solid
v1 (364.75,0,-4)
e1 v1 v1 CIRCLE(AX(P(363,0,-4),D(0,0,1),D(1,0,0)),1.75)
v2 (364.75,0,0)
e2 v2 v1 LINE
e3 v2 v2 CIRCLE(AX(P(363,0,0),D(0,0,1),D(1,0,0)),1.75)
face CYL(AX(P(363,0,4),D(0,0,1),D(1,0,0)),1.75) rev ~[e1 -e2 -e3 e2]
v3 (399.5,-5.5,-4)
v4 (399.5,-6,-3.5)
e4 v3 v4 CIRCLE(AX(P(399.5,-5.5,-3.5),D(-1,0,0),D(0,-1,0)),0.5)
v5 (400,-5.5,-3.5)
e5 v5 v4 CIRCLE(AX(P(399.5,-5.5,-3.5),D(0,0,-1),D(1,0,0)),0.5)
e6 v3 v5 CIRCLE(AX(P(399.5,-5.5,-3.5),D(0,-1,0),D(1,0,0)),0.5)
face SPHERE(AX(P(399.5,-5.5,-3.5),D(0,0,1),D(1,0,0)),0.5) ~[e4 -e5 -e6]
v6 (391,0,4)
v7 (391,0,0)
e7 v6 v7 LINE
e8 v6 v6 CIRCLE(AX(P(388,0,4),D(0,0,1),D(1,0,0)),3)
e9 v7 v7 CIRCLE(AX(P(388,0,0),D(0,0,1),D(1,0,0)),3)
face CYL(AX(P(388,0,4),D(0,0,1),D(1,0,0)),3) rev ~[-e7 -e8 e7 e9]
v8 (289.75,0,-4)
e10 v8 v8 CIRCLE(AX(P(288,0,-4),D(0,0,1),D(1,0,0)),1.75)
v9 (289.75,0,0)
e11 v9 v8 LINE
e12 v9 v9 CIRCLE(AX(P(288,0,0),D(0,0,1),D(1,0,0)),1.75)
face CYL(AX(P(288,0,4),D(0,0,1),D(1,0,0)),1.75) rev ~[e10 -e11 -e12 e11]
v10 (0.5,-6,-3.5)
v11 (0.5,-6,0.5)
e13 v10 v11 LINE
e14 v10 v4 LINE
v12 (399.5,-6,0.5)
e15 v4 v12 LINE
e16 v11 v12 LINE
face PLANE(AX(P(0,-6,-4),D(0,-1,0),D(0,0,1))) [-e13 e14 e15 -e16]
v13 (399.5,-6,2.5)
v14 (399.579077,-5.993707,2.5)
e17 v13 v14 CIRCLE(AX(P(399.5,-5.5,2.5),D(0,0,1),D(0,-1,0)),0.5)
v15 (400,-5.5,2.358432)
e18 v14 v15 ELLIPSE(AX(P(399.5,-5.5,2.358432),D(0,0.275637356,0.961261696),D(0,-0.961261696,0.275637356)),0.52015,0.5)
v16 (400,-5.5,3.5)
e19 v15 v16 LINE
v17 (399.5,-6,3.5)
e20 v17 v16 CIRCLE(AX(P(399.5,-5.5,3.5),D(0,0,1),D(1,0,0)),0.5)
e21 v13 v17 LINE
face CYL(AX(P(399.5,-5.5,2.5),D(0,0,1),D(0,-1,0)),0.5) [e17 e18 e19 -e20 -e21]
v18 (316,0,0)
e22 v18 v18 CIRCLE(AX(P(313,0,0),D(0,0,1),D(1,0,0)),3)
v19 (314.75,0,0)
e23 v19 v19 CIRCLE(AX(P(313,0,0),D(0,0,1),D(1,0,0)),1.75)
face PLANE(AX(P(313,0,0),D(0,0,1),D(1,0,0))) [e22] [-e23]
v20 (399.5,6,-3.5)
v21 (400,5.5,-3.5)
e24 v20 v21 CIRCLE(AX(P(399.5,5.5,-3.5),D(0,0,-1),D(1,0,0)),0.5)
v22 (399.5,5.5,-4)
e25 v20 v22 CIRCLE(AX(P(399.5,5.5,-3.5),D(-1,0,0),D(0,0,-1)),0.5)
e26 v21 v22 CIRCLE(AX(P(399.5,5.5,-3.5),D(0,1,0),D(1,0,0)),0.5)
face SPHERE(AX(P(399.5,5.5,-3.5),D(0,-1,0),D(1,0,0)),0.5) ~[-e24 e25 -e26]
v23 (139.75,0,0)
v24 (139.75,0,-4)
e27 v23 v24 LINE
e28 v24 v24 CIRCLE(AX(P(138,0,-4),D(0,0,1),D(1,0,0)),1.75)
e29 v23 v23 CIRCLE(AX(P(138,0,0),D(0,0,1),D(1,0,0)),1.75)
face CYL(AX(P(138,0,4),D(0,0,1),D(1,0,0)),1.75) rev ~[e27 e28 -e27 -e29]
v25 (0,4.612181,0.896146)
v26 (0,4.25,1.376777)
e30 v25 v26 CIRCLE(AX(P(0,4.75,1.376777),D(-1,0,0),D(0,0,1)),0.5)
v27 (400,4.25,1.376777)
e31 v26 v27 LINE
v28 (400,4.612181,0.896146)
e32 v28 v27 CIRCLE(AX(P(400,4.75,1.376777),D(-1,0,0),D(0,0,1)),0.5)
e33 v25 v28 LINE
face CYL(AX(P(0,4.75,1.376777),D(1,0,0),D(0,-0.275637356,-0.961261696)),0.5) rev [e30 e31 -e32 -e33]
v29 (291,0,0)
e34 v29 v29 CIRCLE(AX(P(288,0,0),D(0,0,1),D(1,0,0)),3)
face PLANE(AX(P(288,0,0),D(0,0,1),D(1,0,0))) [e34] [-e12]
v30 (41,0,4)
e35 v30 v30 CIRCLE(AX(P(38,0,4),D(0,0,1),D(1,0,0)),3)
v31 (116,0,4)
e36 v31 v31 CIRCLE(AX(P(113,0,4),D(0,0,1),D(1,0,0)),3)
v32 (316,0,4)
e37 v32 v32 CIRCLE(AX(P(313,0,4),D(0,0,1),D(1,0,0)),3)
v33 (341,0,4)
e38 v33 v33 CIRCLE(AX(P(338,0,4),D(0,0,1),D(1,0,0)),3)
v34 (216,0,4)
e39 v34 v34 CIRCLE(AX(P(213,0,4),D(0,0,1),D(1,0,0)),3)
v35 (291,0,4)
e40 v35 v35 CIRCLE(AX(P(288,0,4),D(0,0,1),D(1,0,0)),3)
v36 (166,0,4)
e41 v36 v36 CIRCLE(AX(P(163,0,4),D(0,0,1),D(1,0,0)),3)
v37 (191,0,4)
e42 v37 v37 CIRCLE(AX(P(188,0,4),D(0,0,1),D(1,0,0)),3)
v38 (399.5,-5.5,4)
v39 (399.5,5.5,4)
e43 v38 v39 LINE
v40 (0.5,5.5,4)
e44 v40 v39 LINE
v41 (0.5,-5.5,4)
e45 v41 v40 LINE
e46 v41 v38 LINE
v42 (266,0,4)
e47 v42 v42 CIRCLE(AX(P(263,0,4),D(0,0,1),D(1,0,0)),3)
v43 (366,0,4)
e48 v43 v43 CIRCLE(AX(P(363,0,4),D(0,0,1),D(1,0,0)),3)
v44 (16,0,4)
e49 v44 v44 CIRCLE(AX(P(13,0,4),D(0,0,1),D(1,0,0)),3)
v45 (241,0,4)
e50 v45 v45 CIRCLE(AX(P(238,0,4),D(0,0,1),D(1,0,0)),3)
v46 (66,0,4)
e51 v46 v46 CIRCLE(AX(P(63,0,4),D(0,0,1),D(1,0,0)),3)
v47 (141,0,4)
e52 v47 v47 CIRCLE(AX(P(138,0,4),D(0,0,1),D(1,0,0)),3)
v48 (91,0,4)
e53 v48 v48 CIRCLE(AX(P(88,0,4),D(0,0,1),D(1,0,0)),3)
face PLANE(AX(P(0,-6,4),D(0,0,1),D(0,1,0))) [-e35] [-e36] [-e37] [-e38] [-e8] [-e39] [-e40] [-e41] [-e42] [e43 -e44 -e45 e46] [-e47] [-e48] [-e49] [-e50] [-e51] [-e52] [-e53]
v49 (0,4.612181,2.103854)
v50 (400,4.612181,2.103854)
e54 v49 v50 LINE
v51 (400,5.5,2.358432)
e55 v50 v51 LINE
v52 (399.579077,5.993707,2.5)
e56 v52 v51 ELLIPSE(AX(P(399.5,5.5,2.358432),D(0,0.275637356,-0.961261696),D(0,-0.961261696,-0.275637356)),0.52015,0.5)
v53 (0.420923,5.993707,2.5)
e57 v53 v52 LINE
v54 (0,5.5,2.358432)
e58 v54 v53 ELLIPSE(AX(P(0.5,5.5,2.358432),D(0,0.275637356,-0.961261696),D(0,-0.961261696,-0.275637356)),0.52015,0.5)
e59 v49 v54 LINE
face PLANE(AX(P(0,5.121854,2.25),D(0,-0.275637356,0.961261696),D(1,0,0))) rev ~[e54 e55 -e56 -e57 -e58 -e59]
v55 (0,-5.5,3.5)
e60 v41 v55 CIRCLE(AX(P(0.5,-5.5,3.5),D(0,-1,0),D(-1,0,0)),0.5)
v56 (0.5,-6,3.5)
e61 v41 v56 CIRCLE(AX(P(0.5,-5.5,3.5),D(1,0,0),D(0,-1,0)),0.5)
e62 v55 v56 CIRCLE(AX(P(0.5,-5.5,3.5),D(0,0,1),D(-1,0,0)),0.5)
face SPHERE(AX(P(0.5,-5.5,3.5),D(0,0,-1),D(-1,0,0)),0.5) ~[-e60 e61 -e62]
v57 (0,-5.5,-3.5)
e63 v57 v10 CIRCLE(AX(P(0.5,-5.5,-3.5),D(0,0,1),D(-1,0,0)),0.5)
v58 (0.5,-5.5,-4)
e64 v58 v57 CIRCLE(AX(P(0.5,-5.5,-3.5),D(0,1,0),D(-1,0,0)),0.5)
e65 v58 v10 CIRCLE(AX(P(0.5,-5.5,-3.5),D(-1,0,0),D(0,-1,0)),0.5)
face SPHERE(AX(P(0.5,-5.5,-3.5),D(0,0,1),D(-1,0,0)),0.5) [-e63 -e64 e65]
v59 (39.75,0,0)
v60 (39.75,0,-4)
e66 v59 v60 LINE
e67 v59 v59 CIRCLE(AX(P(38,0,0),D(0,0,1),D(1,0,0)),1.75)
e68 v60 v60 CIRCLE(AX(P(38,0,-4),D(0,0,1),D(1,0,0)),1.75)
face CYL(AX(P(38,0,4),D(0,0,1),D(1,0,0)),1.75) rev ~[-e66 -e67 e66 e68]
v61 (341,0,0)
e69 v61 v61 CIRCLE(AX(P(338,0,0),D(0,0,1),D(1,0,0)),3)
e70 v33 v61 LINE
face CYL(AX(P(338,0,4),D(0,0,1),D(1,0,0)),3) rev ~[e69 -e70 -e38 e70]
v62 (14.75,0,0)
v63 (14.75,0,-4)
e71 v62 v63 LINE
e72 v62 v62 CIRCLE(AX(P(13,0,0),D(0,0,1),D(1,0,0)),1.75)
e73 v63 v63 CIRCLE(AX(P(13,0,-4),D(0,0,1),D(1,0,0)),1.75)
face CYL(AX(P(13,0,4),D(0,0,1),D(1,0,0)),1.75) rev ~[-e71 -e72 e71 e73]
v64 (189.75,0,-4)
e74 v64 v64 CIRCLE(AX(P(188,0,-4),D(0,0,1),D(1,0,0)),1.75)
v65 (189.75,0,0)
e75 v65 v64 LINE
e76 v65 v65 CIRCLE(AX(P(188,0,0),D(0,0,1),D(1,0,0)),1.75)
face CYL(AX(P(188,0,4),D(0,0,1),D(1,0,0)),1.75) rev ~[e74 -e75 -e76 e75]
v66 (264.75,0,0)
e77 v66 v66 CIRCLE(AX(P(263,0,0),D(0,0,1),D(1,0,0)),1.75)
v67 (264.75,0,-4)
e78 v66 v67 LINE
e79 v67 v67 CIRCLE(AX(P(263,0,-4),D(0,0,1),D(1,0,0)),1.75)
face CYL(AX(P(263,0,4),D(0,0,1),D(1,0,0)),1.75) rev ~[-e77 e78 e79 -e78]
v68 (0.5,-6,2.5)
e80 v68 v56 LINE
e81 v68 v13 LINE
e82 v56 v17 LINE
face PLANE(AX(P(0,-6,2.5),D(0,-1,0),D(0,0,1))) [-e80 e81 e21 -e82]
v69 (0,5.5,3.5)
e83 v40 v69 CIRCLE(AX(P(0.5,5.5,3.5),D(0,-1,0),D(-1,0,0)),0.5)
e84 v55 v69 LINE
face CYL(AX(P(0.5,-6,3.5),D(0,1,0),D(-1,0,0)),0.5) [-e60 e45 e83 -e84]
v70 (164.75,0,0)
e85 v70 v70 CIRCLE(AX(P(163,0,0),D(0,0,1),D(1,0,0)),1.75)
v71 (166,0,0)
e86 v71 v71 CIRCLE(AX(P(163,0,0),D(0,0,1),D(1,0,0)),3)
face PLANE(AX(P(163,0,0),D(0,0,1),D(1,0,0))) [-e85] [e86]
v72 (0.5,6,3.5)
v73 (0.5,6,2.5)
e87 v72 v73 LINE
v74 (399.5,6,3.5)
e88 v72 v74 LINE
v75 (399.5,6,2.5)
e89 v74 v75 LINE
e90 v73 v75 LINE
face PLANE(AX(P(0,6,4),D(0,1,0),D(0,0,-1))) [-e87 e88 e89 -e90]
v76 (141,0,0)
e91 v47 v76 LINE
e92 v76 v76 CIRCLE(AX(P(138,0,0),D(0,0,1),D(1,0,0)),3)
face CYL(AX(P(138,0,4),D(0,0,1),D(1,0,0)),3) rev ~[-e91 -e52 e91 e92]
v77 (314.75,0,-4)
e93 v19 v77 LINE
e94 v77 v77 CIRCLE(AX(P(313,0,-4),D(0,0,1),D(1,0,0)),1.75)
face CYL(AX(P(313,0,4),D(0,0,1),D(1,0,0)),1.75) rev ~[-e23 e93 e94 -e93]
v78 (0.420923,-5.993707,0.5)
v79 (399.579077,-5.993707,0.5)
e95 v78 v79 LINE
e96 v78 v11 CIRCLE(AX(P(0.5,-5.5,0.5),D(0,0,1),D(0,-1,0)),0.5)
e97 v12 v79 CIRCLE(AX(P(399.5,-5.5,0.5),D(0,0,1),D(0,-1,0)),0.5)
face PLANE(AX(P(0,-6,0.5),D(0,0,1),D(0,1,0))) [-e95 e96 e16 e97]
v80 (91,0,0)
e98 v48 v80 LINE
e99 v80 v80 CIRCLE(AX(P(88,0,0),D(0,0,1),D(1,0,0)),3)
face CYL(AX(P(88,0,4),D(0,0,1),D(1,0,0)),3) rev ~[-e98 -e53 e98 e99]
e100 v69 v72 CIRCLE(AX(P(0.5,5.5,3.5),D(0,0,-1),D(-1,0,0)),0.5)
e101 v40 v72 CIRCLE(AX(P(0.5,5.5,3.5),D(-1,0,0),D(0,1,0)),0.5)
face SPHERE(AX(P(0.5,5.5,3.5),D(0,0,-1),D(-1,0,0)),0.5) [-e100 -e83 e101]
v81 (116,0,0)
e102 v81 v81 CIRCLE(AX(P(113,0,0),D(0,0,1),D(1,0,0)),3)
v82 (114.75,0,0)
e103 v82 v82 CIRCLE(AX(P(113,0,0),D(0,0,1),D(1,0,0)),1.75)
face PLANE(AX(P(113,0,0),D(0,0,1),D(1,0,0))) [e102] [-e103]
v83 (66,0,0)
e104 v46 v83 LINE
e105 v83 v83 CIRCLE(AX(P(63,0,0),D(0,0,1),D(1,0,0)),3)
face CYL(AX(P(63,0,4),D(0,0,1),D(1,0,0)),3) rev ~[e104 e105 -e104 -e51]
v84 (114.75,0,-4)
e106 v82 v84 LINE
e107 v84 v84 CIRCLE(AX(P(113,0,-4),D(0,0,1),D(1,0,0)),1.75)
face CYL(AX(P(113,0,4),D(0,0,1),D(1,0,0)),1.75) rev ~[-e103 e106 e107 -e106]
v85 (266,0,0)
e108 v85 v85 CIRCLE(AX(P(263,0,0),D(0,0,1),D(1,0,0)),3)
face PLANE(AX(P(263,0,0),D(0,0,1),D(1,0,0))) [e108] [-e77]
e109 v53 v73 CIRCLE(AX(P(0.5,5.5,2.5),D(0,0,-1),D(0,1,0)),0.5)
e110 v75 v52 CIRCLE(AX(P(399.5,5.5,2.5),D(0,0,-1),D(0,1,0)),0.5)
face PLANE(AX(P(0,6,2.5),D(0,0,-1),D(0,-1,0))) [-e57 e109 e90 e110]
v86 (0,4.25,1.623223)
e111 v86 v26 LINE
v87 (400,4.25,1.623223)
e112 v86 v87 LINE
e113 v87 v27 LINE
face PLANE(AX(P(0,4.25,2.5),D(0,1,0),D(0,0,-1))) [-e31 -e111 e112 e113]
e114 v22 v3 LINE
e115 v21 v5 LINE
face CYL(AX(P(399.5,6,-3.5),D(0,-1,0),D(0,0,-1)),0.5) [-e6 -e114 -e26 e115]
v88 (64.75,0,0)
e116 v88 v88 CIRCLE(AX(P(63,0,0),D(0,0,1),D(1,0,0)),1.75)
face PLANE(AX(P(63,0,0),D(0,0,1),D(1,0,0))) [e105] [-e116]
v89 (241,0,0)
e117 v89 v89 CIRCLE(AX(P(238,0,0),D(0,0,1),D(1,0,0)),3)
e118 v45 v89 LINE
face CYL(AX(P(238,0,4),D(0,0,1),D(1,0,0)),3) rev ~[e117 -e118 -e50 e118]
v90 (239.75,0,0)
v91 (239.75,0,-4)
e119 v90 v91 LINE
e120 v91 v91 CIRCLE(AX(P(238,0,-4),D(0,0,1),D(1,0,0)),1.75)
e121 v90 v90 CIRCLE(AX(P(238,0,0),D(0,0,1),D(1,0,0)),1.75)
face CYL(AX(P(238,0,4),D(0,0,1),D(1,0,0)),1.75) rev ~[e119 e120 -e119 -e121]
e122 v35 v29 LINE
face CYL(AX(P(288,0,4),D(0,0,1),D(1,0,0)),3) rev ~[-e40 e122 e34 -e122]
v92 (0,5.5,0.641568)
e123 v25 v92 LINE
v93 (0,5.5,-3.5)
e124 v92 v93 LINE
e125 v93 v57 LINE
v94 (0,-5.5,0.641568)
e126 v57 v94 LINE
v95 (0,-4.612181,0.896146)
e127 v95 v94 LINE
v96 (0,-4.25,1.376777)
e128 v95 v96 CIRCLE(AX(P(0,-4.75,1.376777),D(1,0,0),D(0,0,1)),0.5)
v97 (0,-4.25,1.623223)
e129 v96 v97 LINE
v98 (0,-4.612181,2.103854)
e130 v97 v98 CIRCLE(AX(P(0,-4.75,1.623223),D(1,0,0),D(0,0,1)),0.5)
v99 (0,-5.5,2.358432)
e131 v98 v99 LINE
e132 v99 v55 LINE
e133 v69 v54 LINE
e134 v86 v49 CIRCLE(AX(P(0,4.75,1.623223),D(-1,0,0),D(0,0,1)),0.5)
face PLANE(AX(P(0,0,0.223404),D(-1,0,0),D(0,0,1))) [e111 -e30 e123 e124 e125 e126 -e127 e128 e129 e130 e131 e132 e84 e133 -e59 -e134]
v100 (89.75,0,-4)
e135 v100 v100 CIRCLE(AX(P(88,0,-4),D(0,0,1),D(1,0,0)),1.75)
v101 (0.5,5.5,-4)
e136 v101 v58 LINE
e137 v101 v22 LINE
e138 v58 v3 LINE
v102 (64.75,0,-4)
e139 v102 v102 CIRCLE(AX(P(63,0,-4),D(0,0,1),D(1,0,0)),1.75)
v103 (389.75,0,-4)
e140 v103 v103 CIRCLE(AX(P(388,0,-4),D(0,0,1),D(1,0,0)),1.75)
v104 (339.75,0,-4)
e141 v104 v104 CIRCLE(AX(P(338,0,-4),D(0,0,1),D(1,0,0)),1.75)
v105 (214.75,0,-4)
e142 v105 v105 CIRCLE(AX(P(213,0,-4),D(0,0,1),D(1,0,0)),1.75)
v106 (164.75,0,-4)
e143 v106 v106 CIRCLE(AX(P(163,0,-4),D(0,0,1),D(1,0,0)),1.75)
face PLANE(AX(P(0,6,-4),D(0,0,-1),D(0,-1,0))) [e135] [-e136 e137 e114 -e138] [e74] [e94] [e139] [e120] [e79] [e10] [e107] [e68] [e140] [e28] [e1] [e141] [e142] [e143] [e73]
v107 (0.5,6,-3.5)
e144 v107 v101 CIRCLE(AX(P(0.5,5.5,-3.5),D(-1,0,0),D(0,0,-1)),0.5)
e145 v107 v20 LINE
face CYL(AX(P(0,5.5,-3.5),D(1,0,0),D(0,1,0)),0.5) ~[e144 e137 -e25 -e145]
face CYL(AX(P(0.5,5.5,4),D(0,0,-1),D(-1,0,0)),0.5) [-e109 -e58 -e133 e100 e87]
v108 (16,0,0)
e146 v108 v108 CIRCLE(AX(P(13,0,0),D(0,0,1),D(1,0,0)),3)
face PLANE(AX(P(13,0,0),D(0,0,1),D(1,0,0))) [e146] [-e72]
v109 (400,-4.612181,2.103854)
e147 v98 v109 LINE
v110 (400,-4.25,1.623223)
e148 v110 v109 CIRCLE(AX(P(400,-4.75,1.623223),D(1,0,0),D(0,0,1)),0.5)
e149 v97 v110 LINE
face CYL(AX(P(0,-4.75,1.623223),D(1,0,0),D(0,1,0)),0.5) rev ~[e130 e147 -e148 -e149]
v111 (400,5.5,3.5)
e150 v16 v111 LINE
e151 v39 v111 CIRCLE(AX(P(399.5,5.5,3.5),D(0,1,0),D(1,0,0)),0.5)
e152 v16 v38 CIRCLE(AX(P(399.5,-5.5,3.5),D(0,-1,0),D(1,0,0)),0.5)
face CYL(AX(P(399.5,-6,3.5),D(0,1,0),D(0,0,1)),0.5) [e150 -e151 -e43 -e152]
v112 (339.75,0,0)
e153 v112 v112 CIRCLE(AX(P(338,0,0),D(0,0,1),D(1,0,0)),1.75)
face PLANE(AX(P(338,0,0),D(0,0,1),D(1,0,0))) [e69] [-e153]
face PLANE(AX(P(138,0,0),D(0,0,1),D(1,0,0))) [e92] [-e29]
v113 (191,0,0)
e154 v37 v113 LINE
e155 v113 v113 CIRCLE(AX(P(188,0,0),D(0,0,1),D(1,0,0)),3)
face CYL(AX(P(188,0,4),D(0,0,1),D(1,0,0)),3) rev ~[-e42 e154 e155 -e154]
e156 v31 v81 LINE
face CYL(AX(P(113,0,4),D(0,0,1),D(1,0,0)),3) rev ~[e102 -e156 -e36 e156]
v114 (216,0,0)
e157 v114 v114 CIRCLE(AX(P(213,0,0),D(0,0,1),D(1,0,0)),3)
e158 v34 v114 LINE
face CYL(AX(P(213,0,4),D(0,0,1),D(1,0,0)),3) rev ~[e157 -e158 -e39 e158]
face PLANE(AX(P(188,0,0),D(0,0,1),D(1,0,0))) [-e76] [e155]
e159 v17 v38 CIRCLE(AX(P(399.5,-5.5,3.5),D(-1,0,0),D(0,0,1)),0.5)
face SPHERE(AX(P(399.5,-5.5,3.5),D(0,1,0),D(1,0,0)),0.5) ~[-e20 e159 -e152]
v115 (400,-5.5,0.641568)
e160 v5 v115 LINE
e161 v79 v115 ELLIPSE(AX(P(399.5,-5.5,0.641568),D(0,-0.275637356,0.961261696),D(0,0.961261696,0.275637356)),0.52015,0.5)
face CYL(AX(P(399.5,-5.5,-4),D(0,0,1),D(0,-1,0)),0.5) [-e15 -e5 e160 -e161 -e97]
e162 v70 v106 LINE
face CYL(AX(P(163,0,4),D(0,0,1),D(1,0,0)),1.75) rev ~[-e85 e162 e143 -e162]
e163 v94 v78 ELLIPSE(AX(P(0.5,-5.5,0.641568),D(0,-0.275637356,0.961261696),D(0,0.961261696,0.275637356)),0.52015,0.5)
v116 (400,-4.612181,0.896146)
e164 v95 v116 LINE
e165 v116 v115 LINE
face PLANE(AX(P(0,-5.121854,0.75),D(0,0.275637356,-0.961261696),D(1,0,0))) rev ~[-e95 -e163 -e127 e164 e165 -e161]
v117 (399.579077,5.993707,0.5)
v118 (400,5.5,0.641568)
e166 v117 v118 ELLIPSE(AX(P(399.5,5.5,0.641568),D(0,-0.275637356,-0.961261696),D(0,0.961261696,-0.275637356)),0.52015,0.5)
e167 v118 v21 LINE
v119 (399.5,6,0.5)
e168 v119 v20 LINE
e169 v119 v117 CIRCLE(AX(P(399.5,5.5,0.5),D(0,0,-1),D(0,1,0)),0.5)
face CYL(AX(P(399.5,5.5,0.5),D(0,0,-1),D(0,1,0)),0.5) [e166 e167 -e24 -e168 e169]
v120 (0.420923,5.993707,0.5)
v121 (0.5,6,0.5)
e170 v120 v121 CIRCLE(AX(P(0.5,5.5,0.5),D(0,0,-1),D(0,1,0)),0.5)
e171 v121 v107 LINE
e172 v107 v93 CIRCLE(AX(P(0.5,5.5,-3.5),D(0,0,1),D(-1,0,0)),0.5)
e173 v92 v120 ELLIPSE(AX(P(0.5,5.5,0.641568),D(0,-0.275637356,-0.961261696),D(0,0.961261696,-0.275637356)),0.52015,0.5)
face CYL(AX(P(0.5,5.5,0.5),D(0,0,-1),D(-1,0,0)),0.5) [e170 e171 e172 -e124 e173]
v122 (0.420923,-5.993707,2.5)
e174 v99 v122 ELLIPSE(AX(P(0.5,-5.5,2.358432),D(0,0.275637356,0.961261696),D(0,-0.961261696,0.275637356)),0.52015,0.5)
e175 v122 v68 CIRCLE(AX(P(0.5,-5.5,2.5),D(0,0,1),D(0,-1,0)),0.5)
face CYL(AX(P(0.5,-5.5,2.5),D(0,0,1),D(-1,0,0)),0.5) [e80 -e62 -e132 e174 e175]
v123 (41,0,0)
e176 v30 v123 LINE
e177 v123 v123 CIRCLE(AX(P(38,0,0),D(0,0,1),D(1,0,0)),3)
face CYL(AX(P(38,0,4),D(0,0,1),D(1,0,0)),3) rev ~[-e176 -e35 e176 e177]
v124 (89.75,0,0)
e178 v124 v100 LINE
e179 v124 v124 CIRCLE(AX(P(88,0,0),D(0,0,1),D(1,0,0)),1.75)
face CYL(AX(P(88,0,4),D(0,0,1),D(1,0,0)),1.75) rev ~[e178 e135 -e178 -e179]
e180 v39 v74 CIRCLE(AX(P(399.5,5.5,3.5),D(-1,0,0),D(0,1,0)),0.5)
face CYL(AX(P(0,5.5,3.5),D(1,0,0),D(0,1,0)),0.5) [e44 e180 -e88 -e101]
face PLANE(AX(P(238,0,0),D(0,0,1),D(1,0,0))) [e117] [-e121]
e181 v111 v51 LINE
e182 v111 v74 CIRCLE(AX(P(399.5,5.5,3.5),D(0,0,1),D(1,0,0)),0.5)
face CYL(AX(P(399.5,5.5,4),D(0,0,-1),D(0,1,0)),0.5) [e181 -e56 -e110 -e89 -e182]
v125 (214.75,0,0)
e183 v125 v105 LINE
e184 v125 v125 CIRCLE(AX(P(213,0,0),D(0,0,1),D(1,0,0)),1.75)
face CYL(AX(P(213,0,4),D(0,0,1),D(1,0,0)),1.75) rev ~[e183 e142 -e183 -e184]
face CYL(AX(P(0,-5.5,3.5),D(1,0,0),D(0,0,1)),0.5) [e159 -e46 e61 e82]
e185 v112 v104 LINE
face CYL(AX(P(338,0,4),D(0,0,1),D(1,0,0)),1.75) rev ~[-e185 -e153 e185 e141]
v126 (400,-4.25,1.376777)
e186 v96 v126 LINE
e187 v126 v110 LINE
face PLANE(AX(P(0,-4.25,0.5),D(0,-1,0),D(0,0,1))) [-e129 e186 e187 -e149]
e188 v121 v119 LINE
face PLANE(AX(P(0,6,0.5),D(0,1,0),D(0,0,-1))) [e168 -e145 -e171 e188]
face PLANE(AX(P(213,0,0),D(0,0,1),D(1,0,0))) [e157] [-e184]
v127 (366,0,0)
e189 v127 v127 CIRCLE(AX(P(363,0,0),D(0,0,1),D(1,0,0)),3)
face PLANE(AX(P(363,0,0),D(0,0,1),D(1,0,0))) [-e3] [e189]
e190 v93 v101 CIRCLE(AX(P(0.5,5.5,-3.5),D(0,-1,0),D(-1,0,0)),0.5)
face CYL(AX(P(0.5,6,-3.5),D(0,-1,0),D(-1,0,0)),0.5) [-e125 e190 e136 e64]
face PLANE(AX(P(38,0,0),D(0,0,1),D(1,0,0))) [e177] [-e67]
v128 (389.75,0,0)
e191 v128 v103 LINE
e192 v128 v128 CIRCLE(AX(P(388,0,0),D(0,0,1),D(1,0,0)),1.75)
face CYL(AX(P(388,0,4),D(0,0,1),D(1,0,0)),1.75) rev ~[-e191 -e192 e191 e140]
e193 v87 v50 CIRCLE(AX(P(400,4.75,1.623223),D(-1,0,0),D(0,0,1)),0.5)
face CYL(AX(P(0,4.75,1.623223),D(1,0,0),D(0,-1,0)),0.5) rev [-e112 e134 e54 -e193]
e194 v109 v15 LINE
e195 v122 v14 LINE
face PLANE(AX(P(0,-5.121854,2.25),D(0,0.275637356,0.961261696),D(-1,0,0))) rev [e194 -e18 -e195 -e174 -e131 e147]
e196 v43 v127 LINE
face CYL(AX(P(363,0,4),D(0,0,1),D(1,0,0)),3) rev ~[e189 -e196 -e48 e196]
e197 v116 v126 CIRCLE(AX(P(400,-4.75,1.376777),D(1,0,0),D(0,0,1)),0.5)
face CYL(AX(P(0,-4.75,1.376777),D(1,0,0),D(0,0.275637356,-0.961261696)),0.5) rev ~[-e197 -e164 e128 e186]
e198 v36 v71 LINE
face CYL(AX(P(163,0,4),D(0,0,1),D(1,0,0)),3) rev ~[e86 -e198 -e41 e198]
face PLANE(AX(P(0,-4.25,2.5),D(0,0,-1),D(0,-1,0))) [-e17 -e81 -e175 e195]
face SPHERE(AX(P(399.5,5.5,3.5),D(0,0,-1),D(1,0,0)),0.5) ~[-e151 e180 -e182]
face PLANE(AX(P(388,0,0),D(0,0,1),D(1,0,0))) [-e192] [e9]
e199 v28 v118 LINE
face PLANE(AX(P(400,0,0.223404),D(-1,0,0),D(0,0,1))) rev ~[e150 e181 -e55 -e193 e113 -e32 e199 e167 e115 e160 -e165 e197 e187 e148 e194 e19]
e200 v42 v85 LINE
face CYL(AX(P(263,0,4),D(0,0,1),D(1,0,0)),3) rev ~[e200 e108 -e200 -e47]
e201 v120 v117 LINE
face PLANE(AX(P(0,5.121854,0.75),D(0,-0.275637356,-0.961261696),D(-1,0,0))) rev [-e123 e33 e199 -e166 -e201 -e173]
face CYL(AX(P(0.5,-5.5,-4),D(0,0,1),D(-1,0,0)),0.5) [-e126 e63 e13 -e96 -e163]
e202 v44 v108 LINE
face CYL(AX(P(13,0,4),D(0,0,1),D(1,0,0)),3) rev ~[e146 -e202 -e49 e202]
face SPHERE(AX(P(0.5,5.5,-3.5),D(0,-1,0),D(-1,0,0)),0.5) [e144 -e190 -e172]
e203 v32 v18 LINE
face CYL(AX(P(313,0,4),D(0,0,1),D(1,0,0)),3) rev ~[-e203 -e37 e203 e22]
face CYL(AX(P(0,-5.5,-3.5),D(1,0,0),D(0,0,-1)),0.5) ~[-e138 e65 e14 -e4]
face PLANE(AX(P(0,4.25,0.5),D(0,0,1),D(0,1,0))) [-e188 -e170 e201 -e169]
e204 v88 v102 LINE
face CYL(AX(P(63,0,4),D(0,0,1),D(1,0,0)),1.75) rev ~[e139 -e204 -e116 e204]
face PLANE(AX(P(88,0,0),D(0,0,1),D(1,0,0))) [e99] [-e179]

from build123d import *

# Parameters (mm, degrees)
BOSS_EXTRUDE1_DEPTH   = 400
SKETCH2_R             = 1.75
CUT_EXTRUDE1_DEPTH    = 10
SKETCH3_R             = 3
CUT_EXTRUDE2_DEPTH    = 4
CHAMFER1_SIZE         = 0.5
CHAMFER1_SIZE2        = 1.743707222
CHAMFER1_PART_2_SIZE  = 0.5
CHAMFER1_PART_2_SIZE2 = 1.743707222
FILLET1_R             = 0.5


with BuildPart() as part:
    # Sketch1 → Boss-Extrude1 (new body)
    with BuildSketch(Plane(origin=(0, 0, 0), x_dir=(0, 0, -1), z_dir=(1, 0, 0))):
        Polygon((-0.5, 6), (4, 6), (4, -6), (-0.5, -6), (-0.5, -4.25), (-2.5, -4.25), (-2.5, -6), (-4, -6), (-4, 6), (-2.5, 6), (-2.5, 4.25), (-0.5, 4.25), align=None)
    extrude(amount=BOSS_EXTRUDE1_DEPTH)

    # Sketch2 → Cut-Extrude1 (cut)
    with BuildSketch(Plane.XY.offset(4)):
        with Locations((13, 0)):
            Circle(SKETCH2_R)
        with Locations((38, 0)):
            Circle(SKETCH2_R)
        with Locations((63, 0)):
            Circle(SKETCH2_R)
        with Locations((88, 0)):
            Circle(SKETCH2_R)
        with Locations((113, 0)):
            Circle(SKETCH2_R)
        with Locations((138, 0)):
            Circle(SKETCH2_R)
        with Locations((163, 0)):
            Circle(SKETCH2_R)
        with Locations((188, 0)):
            Circle(SKETCH2_R)
        with Locations((213, 0)):
            Circle(SKETCH2_R)
        with Locations((238, 0)):
            Circle(SKETCH2_R)
        with Locations((263, 0)):
            Circle(SKETCH2_R)
        with Locations((288, 0)):
            Circle(SKETCH2_R)
        with Locations((313, 0)):
            Circle(SKETCH2_R)
        with Locations((338, 0)):
            Circle(SKETCH2_R)
        with Locations((363, 0)):
            Circle(SKETCH2_R)
        with Locations((388, 0)):
            Circle(SKETCH2_R)
    extrude(amount=-CUT_EXTRUDE1_DEPTH, mode=Mode.SUBTRACT)

    # Sketch3 → Cut-Extrude2 (cut)
    with BuildSketch(Plane.XY.offset(4)):
        with Locations((13, 0)):
            Circle(SKETCH3_R)
        with Locations((38, 0)):
            Circle(SKETCH3_R)
        with Locations((63, 0)):
            Circle(SKETCH3_R)
        with Locations((88, 0)):
            Circle(SKETCH3_R)
        with Locations((113, 0)):
            Circle(SKETCH3_R)
        with Locations((138, 0)):
            Circle(SKETCH3_R)
        with Locations((163, 0)):
            Circle(SKETCH3_R)
        with Locations((188, 0)):
            Circle(SKETCH3_R)
        with Locations((213, 0)):
            Circle(SKETCH3_R)
        with Locations((238, 0)):
            Circle(SKETCH3_R)
        with Locations((263, 0)):
            Circle(SKETCH3_R)
        with Locations((288, 0)):
            Circle(SKETCH3_R)
        with Locations((313, 0)):
            Circle(SKETCH3_R)
        with Locations((338, 0)):
            Circle(SKETCH3_R)
        with Locations((363, 0)):
            Circle(SKETCH3_R)
        with Locations((388, 0)):
            Circle(SKETCH3_R)
    extrude(amount=-CUT_EXTRUDE2_DEPTH, mode=Mode.SUBTRACT)

    # Chamfer1
    chamfer1_edges = [part.edges().sort_by_distance(p)[0] for p in [
        (200, -4.25, 0.5),
        (200, -4.25, 2.5),
    ]]
    chamfer1_side = [part.faces().sort_by_distance(p)[0] for p in [
        (200, -4.25, 1.5),
    ]]
    chamfer(chamfer1_edges, length=CHAMFER1_SIZE, length2=CHAMFER1_SIZE2, reference=chamfer1_side[0])

    # Chamfer1 part 2
    chamfer1_part_2_edges = [part.edges().sort_by_distance(p)[0] for p in [
        (200, 4.25, 2.5),
        (200, 4.25, 0.5),
    ]]
    chamfer1_part_2_side = [part.faces().sort_by_distance(p)[0] for p in [
        (200, 4.25, 1.5),
    ]]
    chamfer(chamfer1_part_2_edges, length=CHAMFER1_PART_2_SIZE, length2=CHAMFER1_PART_2_SIZE2, reference=chamfer1_part_2_side[0])

    # Fillet1
    fillet1_edges = [part.edges().sort_by_distance(p)[0] for p in [
        (400, -6, -1.75),
        (400, 0, -4),
        (400, 6, -1.75),
        (400, 6, 3.25),
        (400, 0, 4),
        (400, -6, 3.25),
        (0, -6, 3.25),
        (0, -6, -1.75),
        (0, 0, -4),
        (0, 6, -1.75),
        (0, 6, 3.25),
        (0, 0, 4),
        (200, -4.25, 1),
        (200, -4.25, 2),
        (200, 4.25, 2),
        (200, 4.25, 1),
        (200, -6, 4),
        (200, 6, 4),
        (200, -6, -4),
        (200, 6, -4),
    ]]
    fillet(fillet1_edges, radius=FILLET1_R)


solid = part.part
